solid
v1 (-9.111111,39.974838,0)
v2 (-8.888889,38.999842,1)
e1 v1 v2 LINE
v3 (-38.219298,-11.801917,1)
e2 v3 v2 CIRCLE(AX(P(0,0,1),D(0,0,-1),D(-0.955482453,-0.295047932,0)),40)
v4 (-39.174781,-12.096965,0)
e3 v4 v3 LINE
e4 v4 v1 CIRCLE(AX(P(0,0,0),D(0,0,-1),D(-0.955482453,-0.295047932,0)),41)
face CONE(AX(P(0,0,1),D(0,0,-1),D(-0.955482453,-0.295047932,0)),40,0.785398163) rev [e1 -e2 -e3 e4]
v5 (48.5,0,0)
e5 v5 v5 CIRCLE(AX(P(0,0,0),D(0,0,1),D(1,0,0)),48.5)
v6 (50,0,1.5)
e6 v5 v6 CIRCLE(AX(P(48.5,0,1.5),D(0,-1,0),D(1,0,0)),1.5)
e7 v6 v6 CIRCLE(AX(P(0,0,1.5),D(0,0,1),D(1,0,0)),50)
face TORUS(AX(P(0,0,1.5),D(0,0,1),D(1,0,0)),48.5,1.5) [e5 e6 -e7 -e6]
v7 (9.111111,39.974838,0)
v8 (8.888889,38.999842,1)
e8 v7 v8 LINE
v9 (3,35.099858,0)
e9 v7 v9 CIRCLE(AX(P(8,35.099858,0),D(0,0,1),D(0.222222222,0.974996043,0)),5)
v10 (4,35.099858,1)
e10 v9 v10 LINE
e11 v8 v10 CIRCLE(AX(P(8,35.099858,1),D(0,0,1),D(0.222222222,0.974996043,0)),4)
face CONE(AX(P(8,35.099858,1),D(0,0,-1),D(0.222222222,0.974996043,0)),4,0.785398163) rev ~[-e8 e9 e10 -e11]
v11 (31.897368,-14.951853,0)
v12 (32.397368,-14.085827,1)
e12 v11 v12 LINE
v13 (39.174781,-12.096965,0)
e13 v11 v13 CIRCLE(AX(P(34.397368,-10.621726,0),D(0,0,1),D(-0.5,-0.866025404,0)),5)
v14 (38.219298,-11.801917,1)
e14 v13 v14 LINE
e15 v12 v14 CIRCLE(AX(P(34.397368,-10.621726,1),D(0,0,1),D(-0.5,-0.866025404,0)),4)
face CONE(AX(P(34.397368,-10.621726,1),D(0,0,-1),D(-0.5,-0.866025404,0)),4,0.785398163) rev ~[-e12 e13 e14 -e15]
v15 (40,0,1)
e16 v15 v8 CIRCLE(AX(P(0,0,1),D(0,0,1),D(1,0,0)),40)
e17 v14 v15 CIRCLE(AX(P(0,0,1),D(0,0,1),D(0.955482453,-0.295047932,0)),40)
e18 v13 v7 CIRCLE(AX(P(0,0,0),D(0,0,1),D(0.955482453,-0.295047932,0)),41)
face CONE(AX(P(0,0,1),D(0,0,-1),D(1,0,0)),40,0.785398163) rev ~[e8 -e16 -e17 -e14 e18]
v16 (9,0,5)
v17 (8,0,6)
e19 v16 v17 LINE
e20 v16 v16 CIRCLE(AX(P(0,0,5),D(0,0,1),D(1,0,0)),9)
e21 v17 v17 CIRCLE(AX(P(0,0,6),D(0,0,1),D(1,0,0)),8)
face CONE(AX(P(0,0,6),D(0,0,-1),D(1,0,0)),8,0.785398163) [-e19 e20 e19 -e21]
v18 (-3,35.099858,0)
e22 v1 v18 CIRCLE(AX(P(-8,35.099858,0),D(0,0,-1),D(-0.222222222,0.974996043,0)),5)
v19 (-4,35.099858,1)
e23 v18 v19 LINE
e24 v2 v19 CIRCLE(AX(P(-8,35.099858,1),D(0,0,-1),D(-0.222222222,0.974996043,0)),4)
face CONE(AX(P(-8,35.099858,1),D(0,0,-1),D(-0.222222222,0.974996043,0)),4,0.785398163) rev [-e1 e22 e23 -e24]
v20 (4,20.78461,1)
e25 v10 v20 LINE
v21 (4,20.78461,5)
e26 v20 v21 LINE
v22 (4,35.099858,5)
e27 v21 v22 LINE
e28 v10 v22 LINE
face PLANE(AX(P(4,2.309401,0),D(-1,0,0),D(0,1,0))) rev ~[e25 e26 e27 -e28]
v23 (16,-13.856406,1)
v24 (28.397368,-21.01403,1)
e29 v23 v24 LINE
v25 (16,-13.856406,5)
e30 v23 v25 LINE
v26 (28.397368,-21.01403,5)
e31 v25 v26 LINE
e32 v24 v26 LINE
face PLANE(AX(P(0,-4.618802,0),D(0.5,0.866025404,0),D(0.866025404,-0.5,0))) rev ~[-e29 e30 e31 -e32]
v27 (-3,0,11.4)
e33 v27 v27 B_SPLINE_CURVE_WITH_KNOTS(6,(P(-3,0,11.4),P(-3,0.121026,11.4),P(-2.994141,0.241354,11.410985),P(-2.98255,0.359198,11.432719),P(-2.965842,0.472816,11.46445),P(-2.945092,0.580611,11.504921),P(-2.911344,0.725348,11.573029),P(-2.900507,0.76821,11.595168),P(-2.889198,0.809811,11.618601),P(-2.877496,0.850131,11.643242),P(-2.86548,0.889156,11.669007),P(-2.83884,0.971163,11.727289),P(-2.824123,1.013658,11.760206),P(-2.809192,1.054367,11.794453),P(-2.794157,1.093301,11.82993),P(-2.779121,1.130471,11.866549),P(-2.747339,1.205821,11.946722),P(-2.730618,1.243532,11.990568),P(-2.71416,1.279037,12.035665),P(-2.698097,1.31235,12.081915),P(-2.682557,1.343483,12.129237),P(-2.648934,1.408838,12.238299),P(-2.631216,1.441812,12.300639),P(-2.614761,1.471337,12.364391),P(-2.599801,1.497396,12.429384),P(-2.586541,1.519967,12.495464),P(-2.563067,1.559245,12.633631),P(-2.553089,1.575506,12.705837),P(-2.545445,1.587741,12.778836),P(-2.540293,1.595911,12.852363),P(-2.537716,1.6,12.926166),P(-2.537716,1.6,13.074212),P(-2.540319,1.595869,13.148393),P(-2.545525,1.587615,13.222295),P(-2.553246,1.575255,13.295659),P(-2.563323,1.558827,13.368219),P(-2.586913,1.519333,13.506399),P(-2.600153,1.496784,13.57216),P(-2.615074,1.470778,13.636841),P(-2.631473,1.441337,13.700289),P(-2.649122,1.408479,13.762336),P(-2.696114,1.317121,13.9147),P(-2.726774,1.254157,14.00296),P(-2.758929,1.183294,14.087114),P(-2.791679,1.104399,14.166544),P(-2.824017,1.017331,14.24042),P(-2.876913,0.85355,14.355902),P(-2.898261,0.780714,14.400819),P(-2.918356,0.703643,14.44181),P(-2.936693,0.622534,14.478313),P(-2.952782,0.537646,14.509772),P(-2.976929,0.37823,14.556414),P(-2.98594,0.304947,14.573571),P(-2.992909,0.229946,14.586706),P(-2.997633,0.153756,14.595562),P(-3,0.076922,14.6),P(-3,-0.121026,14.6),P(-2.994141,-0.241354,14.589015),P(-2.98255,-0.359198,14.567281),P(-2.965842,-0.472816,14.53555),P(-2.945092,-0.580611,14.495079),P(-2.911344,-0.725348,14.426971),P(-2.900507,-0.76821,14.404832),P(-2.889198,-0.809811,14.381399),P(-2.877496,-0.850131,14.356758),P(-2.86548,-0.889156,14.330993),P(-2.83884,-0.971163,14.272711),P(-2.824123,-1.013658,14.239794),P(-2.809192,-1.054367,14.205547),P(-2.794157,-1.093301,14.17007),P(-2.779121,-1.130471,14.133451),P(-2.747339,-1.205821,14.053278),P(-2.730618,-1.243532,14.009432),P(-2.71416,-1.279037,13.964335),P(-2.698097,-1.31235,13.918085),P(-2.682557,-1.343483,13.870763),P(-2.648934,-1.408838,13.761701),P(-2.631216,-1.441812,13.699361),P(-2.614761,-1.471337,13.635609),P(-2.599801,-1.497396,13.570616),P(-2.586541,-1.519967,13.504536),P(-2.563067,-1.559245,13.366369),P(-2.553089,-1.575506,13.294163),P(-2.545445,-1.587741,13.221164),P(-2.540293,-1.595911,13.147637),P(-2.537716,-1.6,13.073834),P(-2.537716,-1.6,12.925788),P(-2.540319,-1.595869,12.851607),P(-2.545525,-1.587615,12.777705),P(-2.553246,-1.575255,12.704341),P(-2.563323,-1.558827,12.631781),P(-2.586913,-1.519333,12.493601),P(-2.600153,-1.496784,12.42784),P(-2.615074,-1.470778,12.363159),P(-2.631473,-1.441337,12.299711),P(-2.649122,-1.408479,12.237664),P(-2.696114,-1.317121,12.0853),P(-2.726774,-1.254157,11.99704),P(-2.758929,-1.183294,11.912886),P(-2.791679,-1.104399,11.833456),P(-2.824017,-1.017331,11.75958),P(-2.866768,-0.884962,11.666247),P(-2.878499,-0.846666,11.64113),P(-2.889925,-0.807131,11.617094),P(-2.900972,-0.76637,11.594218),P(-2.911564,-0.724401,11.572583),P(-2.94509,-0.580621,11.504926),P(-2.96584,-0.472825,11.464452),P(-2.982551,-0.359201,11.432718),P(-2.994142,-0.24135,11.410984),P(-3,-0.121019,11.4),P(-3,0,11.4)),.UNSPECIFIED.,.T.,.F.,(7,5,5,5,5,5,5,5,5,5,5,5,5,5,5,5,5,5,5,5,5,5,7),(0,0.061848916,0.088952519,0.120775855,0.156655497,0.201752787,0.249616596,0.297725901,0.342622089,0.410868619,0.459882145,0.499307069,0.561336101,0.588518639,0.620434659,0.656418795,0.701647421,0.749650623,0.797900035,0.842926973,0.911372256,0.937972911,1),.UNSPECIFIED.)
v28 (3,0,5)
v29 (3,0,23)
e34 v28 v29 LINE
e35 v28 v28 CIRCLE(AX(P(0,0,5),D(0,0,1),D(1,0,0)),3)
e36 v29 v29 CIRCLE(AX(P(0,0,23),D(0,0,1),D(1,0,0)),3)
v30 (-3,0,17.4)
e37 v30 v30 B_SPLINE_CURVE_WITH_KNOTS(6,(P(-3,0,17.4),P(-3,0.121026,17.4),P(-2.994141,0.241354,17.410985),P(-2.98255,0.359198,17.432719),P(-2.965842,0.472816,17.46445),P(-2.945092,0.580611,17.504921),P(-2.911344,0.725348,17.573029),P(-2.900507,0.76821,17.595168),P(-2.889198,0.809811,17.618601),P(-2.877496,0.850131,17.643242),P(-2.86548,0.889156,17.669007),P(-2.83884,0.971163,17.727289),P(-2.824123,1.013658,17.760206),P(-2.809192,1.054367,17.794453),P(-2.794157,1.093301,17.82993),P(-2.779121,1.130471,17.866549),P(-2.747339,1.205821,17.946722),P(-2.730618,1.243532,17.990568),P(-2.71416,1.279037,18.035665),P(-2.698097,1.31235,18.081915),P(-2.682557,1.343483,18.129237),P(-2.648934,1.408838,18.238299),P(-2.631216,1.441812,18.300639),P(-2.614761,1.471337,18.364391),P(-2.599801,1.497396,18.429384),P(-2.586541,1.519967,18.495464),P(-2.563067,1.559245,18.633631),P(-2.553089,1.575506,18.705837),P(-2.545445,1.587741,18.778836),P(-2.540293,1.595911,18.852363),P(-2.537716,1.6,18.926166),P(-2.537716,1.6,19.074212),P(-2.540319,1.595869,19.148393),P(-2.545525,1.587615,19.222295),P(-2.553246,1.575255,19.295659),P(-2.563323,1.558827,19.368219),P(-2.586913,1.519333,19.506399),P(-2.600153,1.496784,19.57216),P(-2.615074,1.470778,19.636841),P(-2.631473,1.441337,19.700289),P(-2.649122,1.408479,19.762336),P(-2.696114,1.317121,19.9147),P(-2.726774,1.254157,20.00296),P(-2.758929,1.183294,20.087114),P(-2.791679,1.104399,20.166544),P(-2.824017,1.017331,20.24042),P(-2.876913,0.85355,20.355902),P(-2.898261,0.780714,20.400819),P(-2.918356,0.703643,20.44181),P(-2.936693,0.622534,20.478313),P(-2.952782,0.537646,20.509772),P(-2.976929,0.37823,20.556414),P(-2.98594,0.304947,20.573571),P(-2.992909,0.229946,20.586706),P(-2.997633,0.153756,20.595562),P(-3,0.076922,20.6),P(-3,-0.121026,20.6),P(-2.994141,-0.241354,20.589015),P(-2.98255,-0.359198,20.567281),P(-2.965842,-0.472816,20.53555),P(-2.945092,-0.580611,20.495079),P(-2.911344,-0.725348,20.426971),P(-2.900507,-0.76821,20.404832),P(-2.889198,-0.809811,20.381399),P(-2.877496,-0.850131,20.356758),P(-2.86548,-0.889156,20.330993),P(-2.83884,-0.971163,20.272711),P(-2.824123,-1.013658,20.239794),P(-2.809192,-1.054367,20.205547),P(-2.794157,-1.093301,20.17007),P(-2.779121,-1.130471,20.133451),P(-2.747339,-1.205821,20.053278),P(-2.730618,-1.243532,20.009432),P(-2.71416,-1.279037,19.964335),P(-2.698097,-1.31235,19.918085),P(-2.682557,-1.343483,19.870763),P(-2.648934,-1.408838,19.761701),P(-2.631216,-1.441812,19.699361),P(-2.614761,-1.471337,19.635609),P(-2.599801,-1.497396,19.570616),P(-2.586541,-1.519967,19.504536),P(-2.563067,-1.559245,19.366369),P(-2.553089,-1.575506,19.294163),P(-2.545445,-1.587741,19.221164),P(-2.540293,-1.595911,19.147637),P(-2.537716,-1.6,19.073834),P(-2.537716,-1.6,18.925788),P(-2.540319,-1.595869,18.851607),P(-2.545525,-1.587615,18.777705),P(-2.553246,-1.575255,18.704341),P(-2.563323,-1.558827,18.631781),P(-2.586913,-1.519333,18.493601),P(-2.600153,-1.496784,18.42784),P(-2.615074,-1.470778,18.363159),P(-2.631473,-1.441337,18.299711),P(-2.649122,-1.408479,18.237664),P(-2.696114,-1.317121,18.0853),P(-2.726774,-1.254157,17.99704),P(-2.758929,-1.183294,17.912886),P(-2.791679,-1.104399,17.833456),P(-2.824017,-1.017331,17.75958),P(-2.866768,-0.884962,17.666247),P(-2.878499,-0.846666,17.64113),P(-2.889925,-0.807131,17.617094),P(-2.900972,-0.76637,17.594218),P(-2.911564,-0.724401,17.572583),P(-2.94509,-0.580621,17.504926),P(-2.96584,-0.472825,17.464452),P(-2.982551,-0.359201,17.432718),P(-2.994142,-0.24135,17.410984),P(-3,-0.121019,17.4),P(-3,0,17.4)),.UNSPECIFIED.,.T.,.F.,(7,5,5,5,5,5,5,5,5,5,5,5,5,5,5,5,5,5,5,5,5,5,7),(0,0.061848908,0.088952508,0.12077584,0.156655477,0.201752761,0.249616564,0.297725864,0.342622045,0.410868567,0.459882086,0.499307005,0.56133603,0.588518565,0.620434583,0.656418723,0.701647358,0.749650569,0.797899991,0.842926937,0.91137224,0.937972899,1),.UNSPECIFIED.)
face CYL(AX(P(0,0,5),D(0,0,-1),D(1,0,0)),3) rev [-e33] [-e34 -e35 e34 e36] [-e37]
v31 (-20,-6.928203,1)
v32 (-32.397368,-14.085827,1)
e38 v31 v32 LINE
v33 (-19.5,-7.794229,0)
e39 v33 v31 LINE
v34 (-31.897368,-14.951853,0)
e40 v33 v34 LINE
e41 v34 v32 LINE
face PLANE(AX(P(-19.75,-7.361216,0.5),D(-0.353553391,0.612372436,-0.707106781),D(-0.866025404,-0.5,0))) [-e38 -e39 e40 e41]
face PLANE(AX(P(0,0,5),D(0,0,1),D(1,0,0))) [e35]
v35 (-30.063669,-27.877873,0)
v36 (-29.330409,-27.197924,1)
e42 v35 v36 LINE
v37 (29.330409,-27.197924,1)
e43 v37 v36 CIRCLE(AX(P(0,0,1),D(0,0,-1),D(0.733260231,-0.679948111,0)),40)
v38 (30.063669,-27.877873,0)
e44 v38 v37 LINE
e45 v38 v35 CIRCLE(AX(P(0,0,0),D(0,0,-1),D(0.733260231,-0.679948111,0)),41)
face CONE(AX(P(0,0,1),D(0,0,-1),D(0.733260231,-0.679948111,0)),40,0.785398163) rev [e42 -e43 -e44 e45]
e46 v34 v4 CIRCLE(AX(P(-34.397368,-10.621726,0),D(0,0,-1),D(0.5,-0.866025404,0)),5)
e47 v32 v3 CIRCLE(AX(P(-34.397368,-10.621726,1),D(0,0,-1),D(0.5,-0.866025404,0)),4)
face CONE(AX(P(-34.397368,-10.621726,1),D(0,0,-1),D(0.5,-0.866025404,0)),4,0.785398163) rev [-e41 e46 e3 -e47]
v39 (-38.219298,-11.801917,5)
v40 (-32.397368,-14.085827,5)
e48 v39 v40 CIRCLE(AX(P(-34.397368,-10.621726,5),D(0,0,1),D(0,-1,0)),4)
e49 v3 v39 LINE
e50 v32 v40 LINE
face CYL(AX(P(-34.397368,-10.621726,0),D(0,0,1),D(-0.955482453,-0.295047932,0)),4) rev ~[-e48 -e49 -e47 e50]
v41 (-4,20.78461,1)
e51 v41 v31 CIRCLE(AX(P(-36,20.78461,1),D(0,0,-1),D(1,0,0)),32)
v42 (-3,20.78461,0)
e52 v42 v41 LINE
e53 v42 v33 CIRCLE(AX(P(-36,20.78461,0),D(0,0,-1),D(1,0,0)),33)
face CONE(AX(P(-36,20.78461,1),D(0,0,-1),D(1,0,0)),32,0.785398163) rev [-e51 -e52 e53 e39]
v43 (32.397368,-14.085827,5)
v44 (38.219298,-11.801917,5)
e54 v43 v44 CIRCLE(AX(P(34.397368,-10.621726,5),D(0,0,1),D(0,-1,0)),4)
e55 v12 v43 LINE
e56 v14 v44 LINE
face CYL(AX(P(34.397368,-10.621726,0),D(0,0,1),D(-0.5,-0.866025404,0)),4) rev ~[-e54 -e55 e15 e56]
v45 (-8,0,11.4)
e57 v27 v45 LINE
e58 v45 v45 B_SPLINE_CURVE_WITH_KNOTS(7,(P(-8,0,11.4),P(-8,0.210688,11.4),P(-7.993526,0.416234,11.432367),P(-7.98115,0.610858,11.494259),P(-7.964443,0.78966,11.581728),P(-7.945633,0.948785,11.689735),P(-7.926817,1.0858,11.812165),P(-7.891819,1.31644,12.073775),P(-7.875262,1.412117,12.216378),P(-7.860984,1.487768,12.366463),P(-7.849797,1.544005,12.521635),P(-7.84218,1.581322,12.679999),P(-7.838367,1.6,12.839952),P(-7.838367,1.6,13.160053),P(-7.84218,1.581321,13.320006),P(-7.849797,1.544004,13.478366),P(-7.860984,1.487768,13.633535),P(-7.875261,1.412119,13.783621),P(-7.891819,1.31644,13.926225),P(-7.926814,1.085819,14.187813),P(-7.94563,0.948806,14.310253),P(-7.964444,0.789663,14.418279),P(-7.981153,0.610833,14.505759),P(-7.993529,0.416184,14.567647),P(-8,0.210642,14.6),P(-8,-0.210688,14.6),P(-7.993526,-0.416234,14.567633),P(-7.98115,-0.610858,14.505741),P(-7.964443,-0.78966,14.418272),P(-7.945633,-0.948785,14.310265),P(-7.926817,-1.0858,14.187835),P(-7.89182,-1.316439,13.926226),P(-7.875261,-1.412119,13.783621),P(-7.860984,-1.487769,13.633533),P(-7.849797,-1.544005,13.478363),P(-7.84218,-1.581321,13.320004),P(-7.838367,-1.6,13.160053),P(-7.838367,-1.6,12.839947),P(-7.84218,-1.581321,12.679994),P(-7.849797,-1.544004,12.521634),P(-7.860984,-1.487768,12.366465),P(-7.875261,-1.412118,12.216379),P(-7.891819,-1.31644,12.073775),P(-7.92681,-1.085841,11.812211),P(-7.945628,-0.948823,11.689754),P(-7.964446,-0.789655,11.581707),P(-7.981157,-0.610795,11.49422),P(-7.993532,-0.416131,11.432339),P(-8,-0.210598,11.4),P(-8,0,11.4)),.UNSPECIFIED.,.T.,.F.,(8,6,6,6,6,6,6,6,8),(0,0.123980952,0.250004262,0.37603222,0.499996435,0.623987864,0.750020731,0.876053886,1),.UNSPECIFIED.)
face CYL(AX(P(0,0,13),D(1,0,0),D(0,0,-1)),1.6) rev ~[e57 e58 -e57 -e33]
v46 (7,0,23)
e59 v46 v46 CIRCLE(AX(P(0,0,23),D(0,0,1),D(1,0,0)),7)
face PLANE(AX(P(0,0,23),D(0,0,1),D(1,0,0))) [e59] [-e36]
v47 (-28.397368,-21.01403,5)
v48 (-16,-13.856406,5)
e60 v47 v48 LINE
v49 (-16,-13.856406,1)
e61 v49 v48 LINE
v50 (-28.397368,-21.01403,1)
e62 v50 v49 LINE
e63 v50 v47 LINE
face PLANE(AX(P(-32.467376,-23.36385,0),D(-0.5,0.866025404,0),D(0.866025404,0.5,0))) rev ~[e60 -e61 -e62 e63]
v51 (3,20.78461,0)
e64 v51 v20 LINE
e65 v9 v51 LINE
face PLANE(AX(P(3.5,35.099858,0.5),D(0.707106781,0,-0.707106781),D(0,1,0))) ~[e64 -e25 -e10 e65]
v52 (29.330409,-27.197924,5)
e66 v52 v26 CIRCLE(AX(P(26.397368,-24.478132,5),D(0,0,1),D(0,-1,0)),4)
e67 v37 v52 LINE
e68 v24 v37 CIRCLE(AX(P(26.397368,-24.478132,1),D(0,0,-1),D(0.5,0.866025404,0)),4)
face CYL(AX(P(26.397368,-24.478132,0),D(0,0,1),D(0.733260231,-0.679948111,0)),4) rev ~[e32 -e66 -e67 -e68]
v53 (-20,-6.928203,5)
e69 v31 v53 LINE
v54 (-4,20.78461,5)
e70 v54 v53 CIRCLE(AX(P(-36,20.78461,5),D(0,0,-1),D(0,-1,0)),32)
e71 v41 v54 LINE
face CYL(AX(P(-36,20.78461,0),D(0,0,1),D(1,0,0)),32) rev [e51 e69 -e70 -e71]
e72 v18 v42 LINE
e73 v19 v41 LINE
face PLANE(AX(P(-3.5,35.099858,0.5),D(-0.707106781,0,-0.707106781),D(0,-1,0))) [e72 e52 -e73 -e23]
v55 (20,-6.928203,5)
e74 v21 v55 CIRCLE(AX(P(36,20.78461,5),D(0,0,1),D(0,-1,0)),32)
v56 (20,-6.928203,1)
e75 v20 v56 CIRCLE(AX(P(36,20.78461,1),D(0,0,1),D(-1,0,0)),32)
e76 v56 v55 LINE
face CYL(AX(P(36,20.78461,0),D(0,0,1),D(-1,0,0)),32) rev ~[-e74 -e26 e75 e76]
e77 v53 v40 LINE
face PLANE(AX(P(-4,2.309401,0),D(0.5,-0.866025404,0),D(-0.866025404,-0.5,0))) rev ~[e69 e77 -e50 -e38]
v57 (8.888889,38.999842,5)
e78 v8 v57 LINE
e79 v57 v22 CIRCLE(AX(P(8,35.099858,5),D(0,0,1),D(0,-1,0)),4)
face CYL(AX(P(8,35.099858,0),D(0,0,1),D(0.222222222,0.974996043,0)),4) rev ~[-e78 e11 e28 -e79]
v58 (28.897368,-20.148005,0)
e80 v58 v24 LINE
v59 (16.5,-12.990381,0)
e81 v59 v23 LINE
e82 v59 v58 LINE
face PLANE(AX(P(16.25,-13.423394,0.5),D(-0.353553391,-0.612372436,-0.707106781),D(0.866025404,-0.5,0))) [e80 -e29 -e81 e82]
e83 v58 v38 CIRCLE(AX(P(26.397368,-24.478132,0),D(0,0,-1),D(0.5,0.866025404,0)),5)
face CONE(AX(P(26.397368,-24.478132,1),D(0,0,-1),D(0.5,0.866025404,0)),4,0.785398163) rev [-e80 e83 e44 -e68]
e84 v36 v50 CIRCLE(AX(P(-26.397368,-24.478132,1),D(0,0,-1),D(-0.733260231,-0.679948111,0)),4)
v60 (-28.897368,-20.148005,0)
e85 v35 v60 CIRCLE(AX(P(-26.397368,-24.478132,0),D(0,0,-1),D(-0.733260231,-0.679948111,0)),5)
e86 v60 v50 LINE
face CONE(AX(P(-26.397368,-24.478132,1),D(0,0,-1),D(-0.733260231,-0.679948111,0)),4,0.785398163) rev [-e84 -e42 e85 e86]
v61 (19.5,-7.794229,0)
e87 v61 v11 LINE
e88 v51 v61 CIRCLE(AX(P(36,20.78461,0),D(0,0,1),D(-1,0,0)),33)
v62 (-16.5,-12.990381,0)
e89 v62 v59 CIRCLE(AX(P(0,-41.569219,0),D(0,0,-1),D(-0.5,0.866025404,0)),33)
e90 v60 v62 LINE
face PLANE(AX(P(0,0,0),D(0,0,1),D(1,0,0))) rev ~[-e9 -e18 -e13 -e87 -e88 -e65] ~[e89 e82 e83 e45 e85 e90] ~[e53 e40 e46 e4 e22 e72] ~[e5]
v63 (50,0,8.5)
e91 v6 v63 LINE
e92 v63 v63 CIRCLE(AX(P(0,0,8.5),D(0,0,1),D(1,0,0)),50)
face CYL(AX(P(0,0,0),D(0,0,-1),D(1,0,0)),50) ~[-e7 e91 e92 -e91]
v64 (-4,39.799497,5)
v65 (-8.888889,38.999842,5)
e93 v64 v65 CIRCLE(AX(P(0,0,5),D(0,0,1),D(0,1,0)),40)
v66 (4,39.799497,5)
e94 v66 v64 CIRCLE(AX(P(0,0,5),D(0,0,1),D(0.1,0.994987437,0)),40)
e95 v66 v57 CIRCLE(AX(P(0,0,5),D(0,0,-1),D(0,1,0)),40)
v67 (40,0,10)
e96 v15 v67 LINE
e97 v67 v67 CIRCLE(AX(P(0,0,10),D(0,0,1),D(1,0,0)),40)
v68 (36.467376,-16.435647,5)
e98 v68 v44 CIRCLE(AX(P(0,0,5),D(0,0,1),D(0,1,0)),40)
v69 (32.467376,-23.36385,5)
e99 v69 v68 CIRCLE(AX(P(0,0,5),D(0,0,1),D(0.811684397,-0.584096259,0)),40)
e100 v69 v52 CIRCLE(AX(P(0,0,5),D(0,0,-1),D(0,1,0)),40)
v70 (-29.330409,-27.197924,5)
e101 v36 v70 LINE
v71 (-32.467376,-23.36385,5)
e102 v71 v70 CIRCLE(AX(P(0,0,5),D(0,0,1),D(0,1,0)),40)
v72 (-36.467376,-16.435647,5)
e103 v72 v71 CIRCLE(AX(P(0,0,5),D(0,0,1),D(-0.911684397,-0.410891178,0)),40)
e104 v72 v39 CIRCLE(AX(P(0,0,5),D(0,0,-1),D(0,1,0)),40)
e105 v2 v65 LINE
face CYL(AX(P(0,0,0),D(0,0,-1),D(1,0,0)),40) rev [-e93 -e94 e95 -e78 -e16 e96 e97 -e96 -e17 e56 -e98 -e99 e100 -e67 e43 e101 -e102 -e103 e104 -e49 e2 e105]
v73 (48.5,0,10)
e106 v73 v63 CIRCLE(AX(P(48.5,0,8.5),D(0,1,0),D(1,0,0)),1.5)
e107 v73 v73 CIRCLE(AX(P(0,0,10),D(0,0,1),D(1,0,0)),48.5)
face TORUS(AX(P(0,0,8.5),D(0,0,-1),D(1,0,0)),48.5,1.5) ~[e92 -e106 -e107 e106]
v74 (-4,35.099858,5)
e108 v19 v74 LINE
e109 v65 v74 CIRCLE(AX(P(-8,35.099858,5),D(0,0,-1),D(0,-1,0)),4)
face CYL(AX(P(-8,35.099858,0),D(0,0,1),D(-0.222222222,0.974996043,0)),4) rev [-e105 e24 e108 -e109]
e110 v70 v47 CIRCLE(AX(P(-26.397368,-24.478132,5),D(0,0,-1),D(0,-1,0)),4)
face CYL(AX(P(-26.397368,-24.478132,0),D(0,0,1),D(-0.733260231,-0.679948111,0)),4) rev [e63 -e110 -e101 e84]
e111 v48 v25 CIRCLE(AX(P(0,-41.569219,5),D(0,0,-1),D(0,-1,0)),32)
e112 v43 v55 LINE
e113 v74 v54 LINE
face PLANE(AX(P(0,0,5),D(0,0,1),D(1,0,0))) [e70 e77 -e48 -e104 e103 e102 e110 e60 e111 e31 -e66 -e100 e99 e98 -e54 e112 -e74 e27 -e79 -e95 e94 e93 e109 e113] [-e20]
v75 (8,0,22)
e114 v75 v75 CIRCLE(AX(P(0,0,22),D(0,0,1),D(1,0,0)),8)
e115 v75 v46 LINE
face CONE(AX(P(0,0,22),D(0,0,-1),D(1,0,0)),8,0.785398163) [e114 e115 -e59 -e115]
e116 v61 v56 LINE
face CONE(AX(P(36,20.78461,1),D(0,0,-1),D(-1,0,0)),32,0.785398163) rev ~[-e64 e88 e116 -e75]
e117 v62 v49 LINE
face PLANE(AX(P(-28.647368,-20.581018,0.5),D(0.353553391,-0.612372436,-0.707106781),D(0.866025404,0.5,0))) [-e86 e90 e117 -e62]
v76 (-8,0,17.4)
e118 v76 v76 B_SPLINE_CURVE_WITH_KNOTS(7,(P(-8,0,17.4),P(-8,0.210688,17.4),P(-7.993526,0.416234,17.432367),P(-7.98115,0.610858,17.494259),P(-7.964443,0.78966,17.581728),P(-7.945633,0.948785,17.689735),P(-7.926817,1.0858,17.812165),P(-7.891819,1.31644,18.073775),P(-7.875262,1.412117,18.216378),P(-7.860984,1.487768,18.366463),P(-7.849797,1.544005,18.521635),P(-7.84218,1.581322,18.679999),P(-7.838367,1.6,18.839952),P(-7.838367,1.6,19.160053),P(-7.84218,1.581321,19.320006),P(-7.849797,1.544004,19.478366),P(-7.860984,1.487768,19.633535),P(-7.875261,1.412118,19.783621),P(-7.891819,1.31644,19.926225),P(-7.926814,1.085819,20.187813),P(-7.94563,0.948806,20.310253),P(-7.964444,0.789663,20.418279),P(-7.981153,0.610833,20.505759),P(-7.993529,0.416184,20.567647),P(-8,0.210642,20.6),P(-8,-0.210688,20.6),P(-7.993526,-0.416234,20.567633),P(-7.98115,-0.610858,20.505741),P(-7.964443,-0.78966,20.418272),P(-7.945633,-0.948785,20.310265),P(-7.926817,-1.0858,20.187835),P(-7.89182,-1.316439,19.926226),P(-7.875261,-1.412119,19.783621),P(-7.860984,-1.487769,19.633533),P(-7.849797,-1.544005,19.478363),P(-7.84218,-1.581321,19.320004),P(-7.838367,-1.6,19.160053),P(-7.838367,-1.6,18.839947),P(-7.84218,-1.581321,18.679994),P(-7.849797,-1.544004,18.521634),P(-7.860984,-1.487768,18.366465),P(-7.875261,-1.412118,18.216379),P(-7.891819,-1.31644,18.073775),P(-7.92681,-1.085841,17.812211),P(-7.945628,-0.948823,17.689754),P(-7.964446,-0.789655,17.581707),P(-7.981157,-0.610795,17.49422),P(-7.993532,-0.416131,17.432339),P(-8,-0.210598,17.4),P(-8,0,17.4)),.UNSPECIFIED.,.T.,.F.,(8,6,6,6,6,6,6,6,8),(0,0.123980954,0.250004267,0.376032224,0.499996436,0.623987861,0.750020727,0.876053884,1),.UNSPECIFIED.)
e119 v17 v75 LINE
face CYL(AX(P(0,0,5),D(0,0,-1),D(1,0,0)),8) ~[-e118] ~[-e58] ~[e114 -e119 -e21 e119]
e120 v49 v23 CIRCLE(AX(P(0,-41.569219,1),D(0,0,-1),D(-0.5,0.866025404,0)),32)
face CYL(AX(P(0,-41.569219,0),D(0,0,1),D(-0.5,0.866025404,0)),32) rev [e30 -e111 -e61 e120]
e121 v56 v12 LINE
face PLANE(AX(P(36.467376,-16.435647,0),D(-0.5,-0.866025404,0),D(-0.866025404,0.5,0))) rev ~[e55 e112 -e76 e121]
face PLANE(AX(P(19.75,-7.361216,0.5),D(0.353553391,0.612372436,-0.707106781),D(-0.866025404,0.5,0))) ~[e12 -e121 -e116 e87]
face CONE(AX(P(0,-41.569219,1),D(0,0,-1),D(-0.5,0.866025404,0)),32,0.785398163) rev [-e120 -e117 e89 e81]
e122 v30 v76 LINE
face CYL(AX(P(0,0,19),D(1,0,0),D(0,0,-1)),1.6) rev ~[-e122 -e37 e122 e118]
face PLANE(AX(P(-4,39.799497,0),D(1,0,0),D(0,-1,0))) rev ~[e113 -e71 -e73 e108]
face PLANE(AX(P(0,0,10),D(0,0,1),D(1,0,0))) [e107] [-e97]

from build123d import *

# Parameters (mm, degrees)
SKETCH1_R           = 50
SKETCH1_R_2         = 40
BOSS_EXTRUDE1_DEPTH = 10
BOSS_EXTRUDE3_DEPTH = 5
FILLET1_R           = 32
FILLET2_R           = 4
CHAMFER1_SIZE       = 1
FILLET3_R           = 1.5
SKETCH2_R           = 8
SKETCH2_R_2         = 3
BOSS_EXTRUDE4_DEPTH = 18
CHAMFER2_SIZE       = 1
SKETCH3_R           = 1.6
CUT_EXTRUDE1_DEPTH  = 10


with BuildPart() as part:
    # Sketch1 → Boss-Extrude1 (new body)
    with BuildSketch(Plane.XY):
        Circle(SKETCH1_R)
        Circle(SKETCH1_R_2, mode=Mode.SUBTRACT)
    extrude(amount=BOSS_EXTRUDE1_DEPTH)

    # Sketch1<5> → Boss-Extrude3 (add)
    with BuildSketch(Plane.XY):
        with BuildLine():
            ThreePointArc((4, 39.799497484), (0, 40), (-4, 39.799497484))
            Line((-4, 39.799497484), (-4, 2.309401077))
            Line((-4, 2.309401077), (-36.467375879, -16.435647127))
            ThreePointArc((-36.467375879, -16.435647127), (-34.641016151, -20), (-32.467375879, -23.363850357))
            Line((-32.467375879, -23.363850357), (0, -4.618802154))
            Line((0, -4.618802154), (32.467375879, -23.363850357))
            ThreePointArc((32.467375879, -23.363850357), (34.641016151, -20), (36.467375879, -16.435647127))
            Line((36.467375879, -16.435647127), (4, 2.309401077))
            Line((4, 2.309401077), (4, 39.799497484))
        make_face()
    extrude(amount=BOSS_EXTRUDE3_DEPTH)

    # Fillet1
    fillet1_edges = [part.edges().sort_by_distance(p)[0] for p in [
        (-4, 2.309401077, 2.5),
        (0, -4.618802154, 2.5),
        (4, 2.309401077, 2.5),
    ]]
    fillet(fillet1_edges, radius=FILLET1_R)

    # Fillet2
    fillet2_edges = [part.edges().sort_by_distance(p)[0] for p in [
        (-36.467375879, -16.435647127, 2.5),
        (-32.467375879, -23.363850357, 2.5),
        (32.467375879, -23.363850357, 2.5),
        (36.467375879, -16.435647127, 2.5),
        (4, 39.799497484, 2.5),
        (-4, 39.799497484, 2.5),
    ]]
    fillet(fillet2_edges, radius=FILLET2_R)

    # Chamfer1
    chamfer1_edges = [part.edges().sort_by_distance(p)[0] for p in [
        (0, -9.569219382, 0),
        (-8.287187079, 4.784609691, 0),
        (8.287187079, 4.784609691, 0),
        (26.198684154, -10.507015195, 0),
        (31.269438399, 24.944382578, 0),
        (0, -40, 0),
        (-34.641016151, 20, 0),
        (22.198684154, -17.435218425, 0),
        (-26.198684154, -10.507015195, 0),
        (-22.198684154, -17.435218425, 0),
        (-4, 27.94223362, 0),
        (4, 27.94223362, 0),
        (35.85816198, -14.345444364, 0),
        (30.352600238, -23.881357026, 0),
        (-35.85816198, -14.345444364, 0),
        (-30.352600238, -23.881357026, 0),
        (-5.505561742, 38.226801389, 0),
        (5.505561742, 38.226801389, 0),
    ]]
    chamfer(chamfer1_edges, length=CHAMFER1_SIZE)

    # Fillet3
    fillet3_edges = [part.edges().sort_by_distance(p)[0] for p in [
        (-50, 0, 10),
        (-50, 0, 0),
    ]]
    fillet(fillet3_edges, radius=FILLET3_R)

    # Sketch2 → Boss-Extrude4 (add)
    with BuildSketch(Plane.XY.offset(5)):
        Circle(SKETCH2_R)
        Circle(SKETCH2_R_2, mode=Mode.SUBTRACT)
    extrude(amount=BOSS_EXTRUDE4_DEPTH)

    # Chamfer2
    chamfer2_edges = [part.edges().sort_by_distance(p)[0] for p in [
        (-8, 0, 23),
        (-8, 0, 5),
    ]]
    chamfer(chamfer2_edges, length=CHAMFER2_SIZE)

    # Sketch3 → Cut-Extrude1 (cut)
    with BuildSketch(Plane(origin=(0, 0, 0), x_dir=(0, 0, -1), z_dir=(1, 0, 0))):
        with Locations((-19, 0)):
            Circle(SKETCH3_R)
        with Locations((-13, 0)):
            Circle(SKETCH3_R)
    extrude(amount=-CUT_EXTRUDE1_DEPTH, mode=Mode.SUBTRACT)


solid = part.part
